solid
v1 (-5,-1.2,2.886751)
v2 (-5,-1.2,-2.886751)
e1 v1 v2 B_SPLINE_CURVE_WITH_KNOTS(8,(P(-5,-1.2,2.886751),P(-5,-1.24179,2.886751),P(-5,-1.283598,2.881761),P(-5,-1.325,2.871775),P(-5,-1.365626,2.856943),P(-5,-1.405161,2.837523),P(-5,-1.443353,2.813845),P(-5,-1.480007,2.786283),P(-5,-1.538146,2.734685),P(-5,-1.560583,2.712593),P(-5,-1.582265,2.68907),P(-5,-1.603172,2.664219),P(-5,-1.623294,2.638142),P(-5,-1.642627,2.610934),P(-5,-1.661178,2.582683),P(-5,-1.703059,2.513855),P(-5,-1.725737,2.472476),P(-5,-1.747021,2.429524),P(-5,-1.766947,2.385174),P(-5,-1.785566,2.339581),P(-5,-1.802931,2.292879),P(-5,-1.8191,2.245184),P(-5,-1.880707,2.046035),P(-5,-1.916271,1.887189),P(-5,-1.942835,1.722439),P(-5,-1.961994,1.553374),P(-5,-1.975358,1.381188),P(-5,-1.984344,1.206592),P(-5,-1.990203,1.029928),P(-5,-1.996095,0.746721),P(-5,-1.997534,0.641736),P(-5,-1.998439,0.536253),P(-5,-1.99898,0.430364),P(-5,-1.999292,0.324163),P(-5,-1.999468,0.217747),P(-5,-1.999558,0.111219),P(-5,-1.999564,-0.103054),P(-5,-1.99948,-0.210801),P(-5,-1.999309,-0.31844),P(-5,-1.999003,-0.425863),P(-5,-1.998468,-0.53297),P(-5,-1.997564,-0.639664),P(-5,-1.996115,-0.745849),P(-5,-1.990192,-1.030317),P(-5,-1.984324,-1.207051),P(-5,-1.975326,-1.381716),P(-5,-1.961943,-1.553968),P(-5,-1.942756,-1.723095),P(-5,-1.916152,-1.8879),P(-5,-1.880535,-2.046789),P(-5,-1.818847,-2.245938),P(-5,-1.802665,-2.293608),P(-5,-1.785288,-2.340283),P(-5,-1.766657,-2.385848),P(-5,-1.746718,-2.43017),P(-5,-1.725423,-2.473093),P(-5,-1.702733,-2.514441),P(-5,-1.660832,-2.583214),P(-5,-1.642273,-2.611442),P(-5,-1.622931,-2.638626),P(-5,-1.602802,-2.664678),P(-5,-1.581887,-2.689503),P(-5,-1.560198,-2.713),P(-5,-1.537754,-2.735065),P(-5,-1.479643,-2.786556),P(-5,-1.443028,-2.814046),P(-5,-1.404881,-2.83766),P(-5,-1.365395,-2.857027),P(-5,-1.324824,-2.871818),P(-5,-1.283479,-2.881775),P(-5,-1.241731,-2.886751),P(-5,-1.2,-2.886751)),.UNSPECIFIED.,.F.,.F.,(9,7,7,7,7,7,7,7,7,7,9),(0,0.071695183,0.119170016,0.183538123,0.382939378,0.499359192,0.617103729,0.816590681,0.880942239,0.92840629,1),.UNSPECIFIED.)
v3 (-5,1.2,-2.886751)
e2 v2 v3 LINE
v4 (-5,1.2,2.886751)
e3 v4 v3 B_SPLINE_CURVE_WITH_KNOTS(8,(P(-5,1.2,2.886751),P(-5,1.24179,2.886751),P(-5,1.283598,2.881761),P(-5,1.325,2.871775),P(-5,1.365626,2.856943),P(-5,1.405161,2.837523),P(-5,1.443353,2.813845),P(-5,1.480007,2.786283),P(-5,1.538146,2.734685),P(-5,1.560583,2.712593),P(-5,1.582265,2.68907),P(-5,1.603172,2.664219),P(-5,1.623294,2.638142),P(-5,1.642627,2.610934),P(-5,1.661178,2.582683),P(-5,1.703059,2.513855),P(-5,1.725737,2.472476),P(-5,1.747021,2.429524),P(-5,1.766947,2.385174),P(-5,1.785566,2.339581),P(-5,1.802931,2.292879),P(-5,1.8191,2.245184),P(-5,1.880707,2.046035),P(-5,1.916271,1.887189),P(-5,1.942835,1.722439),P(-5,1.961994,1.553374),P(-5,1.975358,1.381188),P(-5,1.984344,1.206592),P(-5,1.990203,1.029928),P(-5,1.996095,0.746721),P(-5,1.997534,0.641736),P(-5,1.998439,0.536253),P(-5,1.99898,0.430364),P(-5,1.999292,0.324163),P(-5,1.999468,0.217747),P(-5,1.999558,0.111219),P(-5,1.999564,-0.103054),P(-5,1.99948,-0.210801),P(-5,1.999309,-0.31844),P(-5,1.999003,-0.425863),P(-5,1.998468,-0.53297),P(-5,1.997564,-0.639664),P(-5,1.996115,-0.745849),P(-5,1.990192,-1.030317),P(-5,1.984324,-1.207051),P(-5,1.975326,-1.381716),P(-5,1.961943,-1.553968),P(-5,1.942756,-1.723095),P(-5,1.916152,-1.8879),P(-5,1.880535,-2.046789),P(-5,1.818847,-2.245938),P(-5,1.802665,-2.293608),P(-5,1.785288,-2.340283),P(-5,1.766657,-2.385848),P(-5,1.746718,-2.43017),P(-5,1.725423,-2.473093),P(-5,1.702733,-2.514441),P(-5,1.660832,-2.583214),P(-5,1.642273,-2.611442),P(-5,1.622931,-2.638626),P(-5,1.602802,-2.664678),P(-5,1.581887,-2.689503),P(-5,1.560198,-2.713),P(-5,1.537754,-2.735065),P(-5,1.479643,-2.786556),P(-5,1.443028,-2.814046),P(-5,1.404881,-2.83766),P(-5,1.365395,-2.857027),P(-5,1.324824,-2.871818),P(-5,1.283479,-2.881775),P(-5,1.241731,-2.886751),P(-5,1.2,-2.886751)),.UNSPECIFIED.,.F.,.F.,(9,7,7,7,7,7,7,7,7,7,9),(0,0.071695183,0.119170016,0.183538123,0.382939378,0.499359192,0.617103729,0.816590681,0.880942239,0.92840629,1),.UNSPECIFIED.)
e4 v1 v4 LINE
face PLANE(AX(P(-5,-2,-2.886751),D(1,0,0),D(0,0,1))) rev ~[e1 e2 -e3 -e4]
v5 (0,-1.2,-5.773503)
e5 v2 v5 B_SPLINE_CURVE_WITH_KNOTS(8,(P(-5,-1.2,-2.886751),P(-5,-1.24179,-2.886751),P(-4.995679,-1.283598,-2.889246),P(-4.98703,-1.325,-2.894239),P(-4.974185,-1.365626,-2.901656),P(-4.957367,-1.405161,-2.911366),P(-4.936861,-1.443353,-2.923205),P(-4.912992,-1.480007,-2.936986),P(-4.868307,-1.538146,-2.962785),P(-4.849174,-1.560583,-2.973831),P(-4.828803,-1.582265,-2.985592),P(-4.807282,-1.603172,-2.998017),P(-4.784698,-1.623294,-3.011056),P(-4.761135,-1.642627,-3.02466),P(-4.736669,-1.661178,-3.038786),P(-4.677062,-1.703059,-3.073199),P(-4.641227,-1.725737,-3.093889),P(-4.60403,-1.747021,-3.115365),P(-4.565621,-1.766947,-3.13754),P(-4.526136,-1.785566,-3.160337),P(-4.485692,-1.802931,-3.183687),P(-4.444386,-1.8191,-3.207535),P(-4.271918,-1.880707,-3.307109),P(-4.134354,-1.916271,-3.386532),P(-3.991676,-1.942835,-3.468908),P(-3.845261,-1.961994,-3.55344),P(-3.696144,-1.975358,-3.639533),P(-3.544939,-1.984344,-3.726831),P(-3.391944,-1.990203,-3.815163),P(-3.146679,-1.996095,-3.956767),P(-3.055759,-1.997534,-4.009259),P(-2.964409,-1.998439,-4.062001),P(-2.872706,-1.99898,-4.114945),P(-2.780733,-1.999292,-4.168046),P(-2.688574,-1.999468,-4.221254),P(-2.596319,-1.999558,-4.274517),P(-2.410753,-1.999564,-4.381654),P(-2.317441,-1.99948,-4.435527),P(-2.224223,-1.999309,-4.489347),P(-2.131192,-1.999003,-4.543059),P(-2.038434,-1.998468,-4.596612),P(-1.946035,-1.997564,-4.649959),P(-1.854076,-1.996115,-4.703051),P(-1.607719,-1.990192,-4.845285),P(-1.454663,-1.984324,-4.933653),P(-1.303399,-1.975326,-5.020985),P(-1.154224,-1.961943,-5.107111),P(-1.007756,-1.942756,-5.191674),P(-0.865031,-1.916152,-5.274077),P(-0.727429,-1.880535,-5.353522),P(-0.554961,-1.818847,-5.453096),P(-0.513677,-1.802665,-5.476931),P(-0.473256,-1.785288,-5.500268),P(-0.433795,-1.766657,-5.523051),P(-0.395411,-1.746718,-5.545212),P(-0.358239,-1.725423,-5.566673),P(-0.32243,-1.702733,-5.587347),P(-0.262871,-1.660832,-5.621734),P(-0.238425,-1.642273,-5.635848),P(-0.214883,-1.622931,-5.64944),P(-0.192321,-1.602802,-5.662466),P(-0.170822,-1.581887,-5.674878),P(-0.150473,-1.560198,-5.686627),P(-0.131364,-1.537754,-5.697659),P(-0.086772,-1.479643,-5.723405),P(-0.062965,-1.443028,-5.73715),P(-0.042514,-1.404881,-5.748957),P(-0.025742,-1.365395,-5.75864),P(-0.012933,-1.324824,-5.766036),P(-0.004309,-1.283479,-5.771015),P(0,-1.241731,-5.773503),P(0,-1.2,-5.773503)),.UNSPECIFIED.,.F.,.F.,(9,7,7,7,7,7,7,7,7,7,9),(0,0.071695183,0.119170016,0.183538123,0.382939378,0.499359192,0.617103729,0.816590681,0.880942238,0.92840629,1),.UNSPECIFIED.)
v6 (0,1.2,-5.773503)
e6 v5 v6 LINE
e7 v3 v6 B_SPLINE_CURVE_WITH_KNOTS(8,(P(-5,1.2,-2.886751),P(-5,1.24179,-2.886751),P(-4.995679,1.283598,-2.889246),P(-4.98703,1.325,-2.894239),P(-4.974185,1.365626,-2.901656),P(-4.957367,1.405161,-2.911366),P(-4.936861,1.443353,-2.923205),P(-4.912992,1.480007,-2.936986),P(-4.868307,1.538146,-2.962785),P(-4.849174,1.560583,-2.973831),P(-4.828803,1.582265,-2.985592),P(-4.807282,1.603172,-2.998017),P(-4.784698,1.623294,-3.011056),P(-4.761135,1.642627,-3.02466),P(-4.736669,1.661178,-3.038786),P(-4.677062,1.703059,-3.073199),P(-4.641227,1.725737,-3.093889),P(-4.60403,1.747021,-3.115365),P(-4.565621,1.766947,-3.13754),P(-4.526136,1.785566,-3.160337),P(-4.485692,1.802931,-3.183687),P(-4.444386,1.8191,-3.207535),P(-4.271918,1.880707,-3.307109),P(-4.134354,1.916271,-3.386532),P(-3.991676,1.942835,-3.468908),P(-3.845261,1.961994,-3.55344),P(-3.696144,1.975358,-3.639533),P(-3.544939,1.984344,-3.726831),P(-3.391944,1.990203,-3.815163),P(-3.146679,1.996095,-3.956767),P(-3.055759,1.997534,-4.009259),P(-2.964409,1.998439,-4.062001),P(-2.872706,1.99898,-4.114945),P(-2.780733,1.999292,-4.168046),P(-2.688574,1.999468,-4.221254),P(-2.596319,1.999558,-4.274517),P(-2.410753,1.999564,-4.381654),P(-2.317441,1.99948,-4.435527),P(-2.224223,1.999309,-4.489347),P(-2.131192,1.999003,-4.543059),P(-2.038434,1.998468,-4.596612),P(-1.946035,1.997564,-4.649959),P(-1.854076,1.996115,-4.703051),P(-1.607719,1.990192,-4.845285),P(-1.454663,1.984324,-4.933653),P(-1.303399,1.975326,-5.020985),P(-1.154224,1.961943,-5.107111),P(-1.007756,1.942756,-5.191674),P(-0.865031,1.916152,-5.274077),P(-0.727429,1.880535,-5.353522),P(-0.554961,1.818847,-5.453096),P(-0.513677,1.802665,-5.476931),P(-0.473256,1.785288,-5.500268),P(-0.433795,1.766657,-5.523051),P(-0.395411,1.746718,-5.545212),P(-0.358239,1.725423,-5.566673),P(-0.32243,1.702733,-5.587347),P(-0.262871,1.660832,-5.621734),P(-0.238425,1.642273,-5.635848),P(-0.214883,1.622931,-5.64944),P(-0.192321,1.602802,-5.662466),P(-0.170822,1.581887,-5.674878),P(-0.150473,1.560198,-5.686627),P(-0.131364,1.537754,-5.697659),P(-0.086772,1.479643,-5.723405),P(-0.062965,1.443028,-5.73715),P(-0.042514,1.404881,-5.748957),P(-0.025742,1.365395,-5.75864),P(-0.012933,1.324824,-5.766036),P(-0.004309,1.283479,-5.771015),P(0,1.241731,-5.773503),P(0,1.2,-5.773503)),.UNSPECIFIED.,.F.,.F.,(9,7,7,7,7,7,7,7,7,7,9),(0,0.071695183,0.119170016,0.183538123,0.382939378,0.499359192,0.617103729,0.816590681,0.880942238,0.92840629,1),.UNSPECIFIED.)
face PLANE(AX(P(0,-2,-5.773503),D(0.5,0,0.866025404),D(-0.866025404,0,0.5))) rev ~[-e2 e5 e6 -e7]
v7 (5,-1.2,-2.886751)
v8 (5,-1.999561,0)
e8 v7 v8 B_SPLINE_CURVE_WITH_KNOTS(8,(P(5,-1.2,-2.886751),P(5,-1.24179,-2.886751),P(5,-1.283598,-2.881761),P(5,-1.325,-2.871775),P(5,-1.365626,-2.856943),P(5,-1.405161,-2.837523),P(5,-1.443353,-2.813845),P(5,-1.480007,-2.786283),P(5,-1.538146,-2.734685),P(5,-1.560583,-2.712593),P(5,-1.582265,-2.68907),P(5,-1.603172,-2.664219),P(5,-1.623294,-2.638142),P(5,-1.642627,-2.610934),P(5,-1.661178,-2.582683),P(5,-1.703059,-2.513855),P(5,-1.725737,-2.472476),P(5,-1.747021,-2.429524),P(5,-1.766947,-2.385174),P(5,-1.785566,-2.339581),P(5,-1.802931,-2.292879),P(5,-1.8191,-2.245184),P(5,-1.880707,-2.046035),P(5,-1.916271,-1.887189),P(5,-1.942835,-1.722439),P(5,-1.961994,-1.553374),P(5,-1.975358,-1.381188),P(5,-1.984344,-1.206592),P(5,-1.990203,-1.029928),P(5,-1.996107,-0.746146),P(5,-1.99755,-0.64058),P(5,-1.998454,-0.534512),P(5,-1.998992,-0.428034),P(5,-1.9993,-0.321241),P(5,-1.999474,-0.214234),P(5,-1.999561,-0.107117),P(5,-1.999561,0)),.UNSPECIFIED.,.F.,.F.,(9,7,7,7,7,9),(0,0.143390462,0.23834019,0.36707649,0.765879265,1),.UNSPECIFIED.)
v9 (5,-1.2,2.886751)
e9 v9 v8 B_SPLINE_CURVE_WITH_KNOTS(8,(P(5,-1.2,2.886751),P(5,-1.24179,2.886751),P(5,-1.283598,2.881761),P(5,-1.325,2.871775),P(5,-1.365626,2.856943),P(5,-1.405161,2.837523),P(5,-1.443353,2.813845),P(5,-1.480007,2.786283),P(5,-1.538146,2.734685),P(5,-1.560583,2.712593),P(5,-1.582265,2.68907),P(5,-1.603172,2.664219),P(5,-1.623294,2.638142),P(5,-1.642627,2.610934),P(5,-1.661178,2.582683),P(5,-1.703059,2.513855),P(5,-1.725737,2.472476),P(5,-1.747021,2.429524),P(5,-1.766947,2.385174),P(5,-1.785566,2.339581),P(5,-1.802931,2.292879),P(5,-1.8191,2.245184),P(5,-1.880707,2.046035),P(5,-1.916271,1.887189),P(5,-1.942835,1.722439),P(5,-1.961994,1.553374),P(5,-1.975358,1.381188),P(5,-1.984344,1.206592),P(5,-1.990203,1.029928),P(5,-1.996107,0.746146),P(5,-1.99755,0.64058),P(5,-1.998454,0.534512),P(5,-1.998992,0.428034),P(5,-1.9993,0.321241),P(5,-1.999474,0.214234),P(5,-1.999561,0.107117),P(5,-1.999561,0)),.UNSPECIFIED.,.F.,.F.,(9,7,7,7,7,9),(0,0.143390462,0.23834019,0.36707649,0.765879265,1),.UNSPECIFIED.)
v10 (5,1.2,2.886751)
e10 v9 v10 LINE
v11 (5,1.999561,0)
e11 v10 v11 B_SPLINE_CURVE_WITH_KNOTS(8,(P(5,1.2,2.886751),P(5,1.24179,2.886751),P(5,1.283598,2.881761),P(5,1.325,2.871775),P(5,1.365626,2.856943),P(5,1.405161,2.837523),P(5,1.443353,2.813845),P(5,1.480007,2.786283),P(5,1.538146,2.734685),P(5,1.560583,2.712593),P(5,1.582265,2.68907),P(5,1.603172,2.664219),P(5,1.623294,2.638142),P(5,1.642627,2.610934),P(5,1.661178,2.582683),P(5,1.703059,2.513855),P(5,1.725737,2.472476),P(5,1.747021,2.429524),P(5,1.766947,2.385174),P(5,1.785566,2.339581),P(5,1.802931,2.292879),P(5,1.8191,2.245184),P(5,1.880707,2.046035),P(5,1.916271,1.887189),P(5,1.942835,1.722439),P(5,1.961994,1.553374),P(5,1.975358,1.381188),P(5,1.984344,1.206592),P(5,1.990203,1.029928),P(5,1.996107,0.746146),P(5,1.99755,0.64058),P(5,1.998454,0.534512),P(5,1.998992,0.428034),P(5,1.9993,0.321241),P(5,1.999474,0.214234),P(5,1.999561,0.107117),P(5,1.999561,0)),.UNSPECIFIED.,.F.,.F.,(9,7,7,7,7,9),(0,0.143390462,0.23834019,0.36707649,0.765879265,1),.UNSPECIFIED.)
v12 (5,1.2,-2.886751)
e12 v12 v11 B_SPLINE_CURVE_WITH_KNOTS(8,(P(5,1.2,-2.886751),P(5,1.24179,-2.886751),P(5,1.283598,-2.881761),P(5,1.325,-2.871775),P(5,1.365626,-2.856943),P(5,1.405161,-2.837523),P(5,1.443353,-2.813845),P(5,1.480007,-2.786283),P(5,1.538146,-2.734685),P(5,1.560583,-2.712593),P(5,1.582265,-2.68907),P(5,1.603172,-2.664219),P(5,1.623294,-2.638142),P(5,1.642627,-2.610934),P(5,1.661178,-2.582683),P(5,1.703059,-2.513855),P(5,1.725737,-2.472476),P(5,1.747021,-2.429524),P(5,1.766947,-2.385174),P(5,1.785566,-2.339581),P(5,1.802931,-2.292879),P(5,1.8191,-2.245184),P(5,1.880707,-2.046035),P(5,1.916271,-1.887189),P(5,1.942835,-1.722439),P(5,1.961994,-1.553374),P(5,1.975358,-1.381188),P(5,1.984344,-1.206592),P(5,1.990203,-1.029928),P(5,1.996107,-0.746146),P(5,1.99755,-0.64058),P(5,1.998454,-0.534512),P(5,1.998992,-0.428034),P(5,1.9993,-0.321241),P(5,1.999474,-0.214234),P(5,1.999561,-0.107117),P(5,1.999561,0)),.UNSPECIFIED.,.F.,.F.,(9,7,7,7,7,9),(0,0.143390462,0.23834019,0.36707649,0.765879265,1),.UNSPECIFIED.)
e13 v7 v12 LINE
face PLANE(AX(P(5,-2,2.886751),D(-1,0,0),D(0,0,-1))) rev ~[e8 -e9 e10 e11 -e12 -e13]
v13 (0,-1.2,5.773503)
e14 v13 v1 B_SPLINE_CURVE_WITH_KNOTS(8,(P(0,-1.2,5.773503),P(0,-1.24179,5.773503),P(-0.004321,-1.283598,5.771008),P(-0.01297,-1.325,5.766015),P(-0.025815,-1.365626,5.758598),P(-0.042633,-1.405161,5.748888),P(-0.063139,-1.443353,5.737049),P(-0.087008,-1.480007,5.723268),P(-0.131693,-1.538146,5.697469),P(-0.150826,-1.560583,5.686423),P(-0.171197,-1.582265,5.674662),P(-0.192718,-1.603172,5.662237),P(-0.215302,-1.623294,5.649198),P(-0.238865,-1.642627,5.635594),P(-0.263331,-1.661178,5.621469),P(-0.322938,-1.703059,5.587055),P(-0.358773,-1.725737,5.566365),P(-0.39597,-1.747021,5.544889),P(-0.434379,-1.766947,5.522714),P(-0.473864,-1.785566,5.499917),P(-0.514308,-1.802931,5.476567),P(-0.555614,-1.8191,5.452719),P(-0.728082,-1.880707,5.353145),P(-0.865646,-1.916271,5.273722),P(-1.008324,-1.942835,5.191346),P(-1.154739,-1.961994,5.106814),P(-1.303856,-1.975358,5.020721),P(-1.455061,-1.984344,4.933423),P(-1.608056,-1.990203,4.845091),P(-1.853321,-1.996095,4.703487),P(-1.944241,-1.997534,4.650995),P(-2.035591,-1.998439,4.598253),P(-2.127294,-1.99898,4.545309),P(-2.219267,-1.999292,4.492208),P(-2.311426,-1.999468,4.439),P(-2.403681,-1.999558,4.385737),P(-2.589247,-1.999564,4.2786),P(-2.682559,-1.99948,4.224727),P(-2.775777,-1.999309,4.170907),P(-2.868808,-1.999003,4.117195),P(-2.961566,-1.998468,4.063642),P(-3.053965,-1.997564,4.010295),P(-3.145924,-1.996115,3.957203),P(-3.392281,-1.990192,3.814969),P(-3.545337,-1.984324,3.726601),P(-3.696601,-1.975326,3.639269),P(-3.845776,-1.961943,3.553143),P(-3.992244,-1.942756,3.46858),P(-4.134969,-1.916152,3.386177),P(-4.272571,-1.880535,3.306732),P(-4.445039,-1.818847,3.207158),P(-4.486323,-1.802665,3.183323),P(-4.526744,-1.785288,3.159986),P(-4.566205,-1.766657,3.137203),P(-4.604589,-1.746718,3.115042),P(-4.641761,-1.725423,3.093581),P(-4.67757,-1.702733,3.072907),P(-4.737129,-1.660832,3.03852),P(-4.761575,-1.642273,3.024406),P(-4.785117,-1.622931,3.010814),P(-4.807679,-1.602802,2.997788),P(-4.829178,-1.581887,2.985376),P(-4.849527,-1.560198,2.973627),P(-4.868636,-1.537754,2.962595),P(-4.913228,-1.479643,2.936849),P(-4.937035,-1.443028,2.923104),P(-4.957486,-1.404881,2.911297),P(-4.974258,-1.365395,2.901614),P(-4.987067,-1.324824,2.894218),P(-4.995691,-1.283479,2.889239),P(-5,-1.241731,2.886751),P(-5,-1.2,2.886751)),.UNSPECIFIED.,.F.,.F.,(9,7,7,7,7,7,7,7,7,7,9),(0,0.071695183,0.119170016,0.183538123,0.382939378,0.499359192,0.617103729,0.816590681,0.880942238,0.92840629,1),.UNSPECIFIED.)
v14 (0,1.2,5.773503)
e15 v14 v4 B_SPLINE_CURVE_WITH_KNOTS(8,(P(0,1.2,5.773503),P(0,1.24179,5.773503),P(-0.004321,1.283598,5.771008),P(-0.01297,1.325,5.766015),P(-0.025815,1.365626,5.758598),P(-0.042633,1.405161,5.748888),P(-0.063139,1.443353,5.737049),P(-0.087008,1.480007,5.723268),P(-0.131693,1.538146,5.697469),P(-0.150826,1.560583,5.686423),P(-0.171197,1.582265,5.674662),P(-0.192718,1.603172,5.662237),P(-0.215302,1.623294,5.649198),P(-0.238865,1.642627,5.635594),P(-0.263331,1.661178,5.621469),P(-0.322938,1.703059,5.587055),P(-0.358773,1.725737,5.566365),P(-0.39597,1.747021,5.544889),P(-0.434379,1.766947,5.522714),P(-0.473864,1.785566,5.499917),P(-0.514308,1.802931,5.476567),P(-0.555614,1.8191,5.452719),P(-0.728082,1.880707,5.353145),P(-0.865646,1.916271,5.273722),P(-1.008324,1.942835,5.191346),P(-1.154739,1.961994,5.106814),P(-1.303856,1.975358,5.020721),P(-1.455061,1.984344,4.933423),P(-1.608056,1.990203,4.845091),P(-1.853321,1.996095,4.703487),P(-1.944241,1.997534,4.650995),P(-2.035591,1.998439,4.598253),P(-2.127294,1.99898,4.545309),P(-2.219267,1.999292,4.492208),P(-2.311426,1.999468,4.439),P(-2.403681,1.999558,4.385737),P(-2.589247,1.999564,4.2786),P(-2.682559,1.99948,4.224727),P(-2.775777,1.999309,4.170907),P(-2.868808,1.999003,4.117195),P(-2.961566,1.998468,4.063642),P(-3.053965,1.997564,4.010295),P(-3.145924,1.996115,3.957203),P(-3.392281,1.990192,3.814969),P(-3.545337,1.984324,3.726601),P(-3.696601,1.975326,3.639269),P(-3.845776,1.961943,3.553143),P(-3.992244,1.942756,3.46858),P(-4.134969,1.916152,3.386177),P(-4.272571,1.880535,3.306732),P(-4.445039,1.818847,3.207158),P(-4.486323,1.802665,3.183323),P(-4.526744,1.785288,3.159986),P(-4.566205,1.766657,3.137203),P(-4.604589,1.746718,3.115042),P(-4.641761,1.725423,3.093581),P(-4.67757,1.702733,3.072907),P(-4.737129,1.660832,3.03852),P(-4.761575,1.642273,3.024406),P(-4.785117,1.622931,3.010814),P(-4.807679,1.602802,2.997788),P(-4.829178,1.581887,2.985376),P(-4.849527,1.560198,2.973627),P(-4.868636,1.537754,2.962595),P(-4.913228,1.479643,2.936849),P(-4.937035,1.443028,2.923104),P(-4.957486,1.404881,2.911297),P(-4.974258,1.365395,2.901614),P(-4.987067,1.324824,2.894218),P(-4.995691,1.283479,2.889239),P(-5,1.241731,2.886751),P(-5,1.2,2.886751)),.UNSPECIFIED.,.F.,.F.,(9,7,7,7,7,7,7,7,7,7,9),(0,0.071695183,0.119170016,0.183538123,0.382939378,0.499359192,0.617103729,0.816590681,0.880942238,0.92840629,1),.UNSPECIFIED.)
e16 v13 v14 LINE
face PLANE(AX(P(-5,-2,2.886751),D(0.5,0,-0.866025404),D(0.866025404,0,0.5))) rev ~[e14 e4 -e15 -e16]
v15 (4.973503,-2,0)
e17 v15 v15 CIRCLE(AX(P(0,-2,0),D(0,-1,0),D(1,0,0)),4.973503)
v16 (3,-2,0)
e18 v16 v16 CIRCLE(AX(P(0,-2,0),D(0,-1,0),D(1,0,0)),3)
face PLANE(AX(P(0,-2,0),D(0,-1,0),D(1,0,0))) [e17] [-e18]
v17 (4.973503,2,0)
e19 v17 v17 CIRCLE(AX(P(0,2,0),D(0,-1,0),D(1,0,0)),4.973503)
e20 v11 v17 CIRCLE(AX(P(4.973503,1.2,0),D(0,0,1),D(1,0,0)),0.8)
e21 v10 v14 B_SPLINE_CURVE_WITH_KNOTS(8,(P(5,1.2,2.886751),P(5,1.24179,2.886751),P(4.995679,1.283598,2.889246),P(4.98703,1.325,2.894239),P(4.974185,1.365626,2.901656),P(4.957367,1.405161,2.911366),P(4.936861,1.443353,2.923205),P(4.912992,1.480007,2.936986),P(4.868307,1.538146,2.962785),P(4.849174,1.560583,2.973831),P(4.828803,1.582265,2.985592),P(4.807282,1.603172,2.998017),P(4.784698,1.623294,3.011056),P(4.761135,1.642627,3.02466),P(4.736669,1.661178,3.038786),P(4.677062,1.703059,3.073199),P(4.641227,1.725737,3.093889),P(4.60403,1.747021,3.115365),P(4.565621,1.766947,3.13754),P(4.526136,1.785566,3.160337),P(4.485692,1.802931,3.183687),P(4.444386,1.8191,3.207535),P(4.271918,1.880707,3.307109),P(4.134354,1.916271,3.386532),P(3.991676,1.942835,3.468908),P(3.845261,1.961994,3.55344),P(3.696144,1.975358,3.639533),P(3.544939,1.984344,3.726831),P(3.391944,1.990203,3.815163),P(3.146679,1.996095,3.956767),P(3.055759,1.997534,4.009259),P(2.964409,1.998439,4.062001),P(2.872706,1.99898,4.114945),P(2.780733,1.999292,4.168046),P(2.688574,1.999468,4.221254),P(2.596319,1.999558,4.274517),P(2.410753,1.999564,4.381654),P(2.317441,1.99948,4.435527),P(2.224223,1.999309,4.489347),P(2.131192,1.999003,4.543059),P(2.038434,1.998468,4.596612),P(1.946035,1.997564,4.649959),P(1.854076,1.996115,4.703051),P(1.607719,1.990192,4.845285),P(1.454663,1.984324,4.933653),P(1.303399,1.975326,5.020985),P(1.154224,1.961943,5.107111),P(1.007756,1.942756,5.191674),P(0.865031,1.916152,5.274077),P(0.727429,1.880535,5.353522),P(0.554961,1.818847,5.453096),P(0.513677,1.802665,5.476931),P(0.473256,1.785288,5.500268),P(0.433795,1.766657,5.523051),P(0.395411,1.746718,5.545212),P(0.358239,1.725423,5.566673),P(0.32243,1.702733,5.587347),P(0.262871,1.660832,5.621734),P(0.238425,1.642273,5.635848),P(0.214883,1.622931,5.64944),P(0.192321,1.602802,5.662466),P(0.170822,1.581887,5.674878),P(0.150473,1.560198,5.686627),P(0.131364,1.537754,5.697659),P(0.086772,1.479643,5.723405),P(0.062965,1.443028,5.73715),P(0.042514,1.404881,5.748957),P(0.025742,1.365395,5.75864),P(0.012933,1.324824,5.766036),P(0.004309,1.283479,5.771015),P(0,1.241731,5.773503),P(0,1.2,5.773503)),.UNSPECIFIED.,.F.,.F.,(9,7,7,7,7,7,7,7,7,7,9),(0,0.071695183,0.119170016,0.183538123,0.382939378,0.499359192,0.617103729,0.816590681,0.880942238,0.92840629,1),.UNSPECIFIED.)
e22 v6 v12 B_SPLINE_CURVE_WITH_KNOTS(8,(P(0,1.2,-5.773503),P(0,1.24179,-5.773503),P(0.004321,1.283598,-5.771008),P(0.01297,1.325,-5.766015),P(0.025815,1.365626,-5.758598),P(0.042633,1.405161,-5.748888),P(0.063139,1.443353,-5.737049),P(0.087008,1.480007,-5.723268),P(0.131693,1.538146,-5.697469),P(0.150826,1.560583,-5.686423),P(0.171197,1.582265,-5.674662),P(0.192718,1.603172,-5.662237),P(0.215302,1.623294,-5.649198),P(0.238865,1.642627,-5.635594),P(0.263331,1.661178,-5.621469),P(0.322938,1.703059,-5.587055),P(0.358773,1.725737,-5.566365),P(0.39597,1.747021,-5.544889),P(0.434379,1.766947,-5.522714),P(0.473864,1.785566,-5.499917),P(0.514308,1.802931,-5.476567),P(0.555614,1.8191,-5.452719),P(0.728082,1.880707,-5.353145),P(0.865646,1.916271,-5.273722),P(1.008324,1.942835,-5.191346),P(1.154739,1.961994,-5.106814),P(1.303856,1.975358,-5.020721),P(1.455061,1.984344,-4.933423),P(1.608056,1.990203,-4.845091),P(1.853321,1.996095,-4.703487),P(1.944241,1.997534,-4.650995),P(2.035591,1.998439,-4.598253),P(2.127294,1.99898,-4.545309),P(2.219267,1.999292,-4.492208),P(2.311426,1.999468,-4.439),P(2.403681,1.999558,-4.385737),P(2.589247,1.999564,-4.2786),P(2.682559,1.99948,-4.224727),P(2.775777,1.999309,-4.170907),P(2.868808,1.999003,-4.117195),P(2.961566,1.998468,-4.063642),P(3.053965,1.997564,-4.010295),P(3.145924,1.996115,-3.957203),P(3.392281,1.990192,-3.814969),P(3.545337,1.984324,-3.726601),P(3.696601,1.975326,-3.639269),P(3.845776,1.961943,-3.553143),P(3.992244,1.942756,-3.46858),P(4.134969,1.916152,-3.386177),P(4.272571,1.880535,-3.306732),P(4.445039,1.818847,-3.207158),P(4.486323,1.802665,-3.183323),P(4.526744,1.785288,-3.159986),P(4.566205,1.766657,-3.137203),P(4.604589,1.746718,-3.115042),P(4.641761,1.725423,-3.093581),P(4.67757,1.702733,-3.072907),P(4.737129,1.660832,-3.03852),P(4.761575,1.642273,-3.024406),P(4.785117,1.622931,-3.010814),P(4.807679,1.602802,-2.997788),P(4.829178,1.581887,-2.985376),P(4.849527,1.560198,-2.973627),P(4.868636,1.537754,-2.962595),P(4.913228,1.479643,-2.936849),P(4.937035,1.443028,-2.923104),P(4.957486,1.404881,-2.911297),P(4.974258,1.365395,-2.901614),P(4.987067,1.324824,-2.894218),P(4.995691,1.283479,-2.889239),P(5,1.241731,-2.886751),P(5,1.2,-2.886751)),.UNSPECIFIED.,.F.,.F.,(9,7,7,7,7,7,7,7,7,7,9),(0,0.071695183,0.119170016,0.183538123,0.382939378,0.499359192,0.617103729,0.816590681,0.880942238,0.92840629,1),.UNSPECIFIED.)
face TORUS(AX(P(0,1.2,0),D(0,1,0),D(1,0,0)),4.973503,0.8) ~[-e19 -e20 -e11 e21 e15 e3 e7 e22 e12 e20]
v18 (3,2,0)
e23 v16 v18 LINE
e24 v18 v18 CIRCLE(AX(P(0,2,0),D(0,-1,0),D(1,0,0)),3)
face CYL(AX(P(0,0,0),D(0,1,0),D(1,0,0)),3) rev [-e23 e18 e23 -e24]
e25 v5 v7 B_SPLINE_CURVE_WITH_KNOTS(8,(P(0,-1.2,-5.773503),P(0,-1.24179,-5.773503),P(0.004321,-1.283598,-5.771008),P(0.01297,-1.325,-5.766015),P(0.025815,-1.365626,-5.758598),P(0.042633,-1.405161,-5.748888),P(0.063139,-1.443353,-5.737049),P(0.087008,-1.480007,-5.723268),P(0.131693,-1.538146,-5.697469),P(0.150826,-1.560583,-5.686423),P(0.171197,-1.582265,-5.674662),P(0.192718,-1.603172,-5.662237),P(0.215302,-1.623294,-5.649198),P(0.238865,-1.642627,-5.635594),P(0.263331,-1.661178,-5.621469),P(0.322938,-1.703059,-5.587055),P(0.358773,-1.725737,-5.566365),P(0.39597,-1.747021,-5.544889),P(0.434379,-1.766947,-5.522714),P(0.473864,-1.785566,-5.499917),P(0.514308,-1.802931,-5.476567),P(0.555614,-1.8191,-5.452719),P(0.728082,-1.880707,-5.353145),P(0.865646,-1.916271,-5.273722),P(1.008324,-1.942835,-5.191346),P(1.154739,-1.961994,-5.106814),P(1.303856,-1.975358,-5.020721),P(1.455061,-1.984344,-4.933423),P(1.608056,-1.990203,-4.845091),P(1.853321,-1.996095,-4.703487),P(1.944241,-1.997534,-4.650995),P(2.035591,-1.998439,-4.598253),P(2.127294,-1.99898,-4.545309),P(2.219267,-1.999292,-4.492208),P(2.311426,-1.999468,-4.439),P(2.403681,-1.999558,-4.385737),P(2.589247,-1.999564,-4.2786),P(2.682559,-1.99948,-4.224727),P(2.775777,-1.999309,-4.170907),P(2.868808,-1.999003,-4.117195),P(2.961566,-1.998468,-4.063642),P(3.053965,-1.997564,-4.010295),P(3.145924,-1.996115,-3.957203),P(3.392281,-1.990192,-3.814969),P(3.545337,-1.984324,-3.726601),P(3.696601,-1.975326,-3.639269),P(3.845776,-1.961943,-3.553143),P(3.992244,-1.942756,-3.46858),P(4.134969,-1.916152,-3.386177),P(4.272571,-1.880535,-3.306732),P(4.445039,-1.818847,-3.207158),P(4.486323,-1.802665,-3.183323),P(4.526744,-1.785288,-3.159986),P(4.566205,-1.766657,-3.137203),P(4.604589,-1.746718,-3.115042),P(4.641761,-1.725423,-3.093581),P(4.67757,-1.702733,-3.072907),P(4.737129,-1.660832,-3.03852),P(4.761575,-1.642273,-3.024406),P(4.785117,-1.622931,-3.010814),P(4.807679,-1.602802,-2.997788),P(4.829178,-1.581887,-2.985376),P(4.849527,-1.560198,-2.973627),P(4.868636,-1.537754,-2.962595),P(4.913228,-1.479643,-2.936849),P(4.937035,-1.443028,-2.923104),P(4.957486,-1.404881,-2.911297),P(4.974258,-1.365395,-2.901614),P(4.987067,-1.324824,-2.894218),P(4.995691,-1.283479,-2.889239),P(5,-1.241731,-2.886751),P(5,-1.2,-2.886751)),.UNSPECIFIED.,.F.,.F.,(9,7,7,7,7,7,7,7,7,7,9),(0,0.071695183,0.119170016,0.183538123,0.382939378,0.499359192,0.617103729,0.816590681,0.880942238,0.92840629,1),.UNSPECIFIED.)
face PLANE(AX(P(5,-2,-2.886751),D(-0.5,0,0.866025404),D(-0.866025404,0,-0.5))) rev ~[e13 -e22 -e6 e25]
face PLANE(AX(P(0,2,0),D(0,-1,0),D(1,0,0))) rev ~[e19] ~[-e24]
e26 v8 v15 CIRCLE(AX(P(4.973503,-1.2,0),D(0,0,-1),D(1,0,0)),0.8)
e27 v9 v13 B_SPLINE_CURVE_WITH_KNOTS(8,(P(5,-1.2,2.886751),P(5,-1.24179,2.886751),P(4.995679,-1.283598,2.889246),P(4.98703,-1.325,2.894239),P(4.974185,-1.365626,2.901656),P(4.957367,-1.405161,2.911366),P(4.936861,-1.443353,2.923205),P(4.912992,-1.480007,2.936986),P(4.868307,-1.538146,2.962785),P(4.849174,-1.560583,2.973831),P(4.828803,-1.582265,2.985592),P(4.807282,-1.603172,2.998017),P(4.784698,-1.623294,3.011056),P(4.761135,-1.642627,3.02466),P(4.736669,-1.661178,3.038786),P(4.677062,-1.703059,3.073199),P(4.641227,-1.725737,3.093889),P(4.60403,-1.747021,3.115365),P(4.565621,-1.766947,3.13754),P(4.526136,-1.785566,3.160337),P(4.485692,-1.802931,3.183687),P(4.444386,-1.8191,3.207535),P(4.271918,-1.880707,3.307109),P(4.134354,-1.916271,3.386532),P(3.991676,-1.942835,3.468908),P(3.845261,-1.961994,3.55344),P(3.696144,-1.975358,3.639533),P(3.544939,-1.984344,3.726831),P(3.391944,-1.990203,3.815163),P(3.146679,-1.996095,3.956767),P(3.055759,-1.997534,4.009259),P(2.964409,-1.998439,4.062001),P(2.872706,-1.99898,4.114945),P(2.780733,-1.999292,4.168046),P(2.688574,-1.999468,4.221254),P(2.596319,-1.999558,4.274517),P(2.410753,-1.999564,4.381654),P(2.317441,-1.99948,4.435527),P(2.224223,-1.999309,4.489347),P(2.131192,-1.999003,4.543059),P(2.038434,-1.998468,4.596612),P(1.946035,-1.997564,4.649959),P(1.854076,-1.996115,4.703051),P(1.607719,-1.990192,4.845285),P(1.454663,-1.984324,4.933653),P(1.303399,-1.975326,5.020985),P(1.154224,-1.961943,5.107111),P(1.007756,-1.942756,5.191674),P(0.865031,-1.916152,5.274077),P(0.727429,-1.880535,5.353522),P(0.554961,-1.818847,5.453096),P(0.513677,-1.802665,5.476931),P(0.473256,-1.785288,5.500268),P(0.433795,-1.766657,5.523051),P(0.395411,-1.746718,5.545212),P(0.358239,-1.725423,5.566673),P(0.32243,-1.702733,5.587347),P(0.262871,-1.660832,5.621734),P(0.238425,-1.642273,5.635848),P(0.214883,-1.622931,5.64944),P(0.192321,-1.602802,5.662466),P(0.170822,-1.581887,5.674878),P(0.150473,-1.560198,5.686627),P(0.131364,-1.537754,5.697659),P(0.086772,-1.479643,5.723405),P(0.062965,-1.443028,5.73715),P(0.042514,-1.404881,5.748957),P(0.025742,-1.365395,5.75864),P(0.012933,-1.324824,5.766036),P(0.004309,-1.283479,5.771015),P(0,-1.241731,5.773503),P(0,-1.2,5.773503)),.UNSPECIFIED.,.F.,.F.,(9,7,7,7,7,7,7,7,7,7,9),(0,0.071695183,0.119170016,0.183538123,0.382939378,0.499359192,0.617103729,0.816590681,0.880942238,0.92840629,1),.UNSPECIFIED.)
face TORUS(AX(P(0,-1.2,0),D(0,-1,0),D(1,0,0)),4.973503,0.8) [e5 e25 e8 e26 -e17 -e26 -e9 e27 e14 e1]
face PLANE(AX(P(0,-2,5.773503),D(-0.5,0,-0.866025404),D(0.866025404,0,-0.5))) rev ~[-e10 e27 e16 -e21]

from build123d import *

# Parameters (mm, degrees)
F0_R     = 5.7735026919
F0_R_2   = 3
F1_DEPTH = 2
F3_R     = 0.8
F2_R     = 6
F4_DEPTH = 4.001


with BuildPart() as f1:
    # F0 (on Front) → F1 (new body, symmetric)
    with BuildSketch(Plane.XZ):
        Circle(F0_R)
        Circle(F0_R_2, mode=Mode.SUBTRACT)
    extrude(amount=F1_DEPTH, both=True)

    # F3
    f3_edges = [f1.edges().sort_by_distance(p)[0] for p in [
        (-5.773503, -2, 0),
        (-5.773503, 2, 0),
    ]]
    fillet(f3_edges, radius=F3_R)

    # F2 (on face) → F4 (cut, through all)
    with BuildSketch(Plane.XZ.offset(2)):
        Circle(F2_R)
        Polygon((0, -5.7735026919), (-5, -2.8867513459), (-5, 2.8867513459), (0, 5.7735026919), (5, 2.8867513459), (5, -2.8867513459), align=None, mode=Mode.SUBTRACT)
    extrude(amount=-F4_DEPTH, mode=Mode.SUBTRACT)


solid = f1.part
